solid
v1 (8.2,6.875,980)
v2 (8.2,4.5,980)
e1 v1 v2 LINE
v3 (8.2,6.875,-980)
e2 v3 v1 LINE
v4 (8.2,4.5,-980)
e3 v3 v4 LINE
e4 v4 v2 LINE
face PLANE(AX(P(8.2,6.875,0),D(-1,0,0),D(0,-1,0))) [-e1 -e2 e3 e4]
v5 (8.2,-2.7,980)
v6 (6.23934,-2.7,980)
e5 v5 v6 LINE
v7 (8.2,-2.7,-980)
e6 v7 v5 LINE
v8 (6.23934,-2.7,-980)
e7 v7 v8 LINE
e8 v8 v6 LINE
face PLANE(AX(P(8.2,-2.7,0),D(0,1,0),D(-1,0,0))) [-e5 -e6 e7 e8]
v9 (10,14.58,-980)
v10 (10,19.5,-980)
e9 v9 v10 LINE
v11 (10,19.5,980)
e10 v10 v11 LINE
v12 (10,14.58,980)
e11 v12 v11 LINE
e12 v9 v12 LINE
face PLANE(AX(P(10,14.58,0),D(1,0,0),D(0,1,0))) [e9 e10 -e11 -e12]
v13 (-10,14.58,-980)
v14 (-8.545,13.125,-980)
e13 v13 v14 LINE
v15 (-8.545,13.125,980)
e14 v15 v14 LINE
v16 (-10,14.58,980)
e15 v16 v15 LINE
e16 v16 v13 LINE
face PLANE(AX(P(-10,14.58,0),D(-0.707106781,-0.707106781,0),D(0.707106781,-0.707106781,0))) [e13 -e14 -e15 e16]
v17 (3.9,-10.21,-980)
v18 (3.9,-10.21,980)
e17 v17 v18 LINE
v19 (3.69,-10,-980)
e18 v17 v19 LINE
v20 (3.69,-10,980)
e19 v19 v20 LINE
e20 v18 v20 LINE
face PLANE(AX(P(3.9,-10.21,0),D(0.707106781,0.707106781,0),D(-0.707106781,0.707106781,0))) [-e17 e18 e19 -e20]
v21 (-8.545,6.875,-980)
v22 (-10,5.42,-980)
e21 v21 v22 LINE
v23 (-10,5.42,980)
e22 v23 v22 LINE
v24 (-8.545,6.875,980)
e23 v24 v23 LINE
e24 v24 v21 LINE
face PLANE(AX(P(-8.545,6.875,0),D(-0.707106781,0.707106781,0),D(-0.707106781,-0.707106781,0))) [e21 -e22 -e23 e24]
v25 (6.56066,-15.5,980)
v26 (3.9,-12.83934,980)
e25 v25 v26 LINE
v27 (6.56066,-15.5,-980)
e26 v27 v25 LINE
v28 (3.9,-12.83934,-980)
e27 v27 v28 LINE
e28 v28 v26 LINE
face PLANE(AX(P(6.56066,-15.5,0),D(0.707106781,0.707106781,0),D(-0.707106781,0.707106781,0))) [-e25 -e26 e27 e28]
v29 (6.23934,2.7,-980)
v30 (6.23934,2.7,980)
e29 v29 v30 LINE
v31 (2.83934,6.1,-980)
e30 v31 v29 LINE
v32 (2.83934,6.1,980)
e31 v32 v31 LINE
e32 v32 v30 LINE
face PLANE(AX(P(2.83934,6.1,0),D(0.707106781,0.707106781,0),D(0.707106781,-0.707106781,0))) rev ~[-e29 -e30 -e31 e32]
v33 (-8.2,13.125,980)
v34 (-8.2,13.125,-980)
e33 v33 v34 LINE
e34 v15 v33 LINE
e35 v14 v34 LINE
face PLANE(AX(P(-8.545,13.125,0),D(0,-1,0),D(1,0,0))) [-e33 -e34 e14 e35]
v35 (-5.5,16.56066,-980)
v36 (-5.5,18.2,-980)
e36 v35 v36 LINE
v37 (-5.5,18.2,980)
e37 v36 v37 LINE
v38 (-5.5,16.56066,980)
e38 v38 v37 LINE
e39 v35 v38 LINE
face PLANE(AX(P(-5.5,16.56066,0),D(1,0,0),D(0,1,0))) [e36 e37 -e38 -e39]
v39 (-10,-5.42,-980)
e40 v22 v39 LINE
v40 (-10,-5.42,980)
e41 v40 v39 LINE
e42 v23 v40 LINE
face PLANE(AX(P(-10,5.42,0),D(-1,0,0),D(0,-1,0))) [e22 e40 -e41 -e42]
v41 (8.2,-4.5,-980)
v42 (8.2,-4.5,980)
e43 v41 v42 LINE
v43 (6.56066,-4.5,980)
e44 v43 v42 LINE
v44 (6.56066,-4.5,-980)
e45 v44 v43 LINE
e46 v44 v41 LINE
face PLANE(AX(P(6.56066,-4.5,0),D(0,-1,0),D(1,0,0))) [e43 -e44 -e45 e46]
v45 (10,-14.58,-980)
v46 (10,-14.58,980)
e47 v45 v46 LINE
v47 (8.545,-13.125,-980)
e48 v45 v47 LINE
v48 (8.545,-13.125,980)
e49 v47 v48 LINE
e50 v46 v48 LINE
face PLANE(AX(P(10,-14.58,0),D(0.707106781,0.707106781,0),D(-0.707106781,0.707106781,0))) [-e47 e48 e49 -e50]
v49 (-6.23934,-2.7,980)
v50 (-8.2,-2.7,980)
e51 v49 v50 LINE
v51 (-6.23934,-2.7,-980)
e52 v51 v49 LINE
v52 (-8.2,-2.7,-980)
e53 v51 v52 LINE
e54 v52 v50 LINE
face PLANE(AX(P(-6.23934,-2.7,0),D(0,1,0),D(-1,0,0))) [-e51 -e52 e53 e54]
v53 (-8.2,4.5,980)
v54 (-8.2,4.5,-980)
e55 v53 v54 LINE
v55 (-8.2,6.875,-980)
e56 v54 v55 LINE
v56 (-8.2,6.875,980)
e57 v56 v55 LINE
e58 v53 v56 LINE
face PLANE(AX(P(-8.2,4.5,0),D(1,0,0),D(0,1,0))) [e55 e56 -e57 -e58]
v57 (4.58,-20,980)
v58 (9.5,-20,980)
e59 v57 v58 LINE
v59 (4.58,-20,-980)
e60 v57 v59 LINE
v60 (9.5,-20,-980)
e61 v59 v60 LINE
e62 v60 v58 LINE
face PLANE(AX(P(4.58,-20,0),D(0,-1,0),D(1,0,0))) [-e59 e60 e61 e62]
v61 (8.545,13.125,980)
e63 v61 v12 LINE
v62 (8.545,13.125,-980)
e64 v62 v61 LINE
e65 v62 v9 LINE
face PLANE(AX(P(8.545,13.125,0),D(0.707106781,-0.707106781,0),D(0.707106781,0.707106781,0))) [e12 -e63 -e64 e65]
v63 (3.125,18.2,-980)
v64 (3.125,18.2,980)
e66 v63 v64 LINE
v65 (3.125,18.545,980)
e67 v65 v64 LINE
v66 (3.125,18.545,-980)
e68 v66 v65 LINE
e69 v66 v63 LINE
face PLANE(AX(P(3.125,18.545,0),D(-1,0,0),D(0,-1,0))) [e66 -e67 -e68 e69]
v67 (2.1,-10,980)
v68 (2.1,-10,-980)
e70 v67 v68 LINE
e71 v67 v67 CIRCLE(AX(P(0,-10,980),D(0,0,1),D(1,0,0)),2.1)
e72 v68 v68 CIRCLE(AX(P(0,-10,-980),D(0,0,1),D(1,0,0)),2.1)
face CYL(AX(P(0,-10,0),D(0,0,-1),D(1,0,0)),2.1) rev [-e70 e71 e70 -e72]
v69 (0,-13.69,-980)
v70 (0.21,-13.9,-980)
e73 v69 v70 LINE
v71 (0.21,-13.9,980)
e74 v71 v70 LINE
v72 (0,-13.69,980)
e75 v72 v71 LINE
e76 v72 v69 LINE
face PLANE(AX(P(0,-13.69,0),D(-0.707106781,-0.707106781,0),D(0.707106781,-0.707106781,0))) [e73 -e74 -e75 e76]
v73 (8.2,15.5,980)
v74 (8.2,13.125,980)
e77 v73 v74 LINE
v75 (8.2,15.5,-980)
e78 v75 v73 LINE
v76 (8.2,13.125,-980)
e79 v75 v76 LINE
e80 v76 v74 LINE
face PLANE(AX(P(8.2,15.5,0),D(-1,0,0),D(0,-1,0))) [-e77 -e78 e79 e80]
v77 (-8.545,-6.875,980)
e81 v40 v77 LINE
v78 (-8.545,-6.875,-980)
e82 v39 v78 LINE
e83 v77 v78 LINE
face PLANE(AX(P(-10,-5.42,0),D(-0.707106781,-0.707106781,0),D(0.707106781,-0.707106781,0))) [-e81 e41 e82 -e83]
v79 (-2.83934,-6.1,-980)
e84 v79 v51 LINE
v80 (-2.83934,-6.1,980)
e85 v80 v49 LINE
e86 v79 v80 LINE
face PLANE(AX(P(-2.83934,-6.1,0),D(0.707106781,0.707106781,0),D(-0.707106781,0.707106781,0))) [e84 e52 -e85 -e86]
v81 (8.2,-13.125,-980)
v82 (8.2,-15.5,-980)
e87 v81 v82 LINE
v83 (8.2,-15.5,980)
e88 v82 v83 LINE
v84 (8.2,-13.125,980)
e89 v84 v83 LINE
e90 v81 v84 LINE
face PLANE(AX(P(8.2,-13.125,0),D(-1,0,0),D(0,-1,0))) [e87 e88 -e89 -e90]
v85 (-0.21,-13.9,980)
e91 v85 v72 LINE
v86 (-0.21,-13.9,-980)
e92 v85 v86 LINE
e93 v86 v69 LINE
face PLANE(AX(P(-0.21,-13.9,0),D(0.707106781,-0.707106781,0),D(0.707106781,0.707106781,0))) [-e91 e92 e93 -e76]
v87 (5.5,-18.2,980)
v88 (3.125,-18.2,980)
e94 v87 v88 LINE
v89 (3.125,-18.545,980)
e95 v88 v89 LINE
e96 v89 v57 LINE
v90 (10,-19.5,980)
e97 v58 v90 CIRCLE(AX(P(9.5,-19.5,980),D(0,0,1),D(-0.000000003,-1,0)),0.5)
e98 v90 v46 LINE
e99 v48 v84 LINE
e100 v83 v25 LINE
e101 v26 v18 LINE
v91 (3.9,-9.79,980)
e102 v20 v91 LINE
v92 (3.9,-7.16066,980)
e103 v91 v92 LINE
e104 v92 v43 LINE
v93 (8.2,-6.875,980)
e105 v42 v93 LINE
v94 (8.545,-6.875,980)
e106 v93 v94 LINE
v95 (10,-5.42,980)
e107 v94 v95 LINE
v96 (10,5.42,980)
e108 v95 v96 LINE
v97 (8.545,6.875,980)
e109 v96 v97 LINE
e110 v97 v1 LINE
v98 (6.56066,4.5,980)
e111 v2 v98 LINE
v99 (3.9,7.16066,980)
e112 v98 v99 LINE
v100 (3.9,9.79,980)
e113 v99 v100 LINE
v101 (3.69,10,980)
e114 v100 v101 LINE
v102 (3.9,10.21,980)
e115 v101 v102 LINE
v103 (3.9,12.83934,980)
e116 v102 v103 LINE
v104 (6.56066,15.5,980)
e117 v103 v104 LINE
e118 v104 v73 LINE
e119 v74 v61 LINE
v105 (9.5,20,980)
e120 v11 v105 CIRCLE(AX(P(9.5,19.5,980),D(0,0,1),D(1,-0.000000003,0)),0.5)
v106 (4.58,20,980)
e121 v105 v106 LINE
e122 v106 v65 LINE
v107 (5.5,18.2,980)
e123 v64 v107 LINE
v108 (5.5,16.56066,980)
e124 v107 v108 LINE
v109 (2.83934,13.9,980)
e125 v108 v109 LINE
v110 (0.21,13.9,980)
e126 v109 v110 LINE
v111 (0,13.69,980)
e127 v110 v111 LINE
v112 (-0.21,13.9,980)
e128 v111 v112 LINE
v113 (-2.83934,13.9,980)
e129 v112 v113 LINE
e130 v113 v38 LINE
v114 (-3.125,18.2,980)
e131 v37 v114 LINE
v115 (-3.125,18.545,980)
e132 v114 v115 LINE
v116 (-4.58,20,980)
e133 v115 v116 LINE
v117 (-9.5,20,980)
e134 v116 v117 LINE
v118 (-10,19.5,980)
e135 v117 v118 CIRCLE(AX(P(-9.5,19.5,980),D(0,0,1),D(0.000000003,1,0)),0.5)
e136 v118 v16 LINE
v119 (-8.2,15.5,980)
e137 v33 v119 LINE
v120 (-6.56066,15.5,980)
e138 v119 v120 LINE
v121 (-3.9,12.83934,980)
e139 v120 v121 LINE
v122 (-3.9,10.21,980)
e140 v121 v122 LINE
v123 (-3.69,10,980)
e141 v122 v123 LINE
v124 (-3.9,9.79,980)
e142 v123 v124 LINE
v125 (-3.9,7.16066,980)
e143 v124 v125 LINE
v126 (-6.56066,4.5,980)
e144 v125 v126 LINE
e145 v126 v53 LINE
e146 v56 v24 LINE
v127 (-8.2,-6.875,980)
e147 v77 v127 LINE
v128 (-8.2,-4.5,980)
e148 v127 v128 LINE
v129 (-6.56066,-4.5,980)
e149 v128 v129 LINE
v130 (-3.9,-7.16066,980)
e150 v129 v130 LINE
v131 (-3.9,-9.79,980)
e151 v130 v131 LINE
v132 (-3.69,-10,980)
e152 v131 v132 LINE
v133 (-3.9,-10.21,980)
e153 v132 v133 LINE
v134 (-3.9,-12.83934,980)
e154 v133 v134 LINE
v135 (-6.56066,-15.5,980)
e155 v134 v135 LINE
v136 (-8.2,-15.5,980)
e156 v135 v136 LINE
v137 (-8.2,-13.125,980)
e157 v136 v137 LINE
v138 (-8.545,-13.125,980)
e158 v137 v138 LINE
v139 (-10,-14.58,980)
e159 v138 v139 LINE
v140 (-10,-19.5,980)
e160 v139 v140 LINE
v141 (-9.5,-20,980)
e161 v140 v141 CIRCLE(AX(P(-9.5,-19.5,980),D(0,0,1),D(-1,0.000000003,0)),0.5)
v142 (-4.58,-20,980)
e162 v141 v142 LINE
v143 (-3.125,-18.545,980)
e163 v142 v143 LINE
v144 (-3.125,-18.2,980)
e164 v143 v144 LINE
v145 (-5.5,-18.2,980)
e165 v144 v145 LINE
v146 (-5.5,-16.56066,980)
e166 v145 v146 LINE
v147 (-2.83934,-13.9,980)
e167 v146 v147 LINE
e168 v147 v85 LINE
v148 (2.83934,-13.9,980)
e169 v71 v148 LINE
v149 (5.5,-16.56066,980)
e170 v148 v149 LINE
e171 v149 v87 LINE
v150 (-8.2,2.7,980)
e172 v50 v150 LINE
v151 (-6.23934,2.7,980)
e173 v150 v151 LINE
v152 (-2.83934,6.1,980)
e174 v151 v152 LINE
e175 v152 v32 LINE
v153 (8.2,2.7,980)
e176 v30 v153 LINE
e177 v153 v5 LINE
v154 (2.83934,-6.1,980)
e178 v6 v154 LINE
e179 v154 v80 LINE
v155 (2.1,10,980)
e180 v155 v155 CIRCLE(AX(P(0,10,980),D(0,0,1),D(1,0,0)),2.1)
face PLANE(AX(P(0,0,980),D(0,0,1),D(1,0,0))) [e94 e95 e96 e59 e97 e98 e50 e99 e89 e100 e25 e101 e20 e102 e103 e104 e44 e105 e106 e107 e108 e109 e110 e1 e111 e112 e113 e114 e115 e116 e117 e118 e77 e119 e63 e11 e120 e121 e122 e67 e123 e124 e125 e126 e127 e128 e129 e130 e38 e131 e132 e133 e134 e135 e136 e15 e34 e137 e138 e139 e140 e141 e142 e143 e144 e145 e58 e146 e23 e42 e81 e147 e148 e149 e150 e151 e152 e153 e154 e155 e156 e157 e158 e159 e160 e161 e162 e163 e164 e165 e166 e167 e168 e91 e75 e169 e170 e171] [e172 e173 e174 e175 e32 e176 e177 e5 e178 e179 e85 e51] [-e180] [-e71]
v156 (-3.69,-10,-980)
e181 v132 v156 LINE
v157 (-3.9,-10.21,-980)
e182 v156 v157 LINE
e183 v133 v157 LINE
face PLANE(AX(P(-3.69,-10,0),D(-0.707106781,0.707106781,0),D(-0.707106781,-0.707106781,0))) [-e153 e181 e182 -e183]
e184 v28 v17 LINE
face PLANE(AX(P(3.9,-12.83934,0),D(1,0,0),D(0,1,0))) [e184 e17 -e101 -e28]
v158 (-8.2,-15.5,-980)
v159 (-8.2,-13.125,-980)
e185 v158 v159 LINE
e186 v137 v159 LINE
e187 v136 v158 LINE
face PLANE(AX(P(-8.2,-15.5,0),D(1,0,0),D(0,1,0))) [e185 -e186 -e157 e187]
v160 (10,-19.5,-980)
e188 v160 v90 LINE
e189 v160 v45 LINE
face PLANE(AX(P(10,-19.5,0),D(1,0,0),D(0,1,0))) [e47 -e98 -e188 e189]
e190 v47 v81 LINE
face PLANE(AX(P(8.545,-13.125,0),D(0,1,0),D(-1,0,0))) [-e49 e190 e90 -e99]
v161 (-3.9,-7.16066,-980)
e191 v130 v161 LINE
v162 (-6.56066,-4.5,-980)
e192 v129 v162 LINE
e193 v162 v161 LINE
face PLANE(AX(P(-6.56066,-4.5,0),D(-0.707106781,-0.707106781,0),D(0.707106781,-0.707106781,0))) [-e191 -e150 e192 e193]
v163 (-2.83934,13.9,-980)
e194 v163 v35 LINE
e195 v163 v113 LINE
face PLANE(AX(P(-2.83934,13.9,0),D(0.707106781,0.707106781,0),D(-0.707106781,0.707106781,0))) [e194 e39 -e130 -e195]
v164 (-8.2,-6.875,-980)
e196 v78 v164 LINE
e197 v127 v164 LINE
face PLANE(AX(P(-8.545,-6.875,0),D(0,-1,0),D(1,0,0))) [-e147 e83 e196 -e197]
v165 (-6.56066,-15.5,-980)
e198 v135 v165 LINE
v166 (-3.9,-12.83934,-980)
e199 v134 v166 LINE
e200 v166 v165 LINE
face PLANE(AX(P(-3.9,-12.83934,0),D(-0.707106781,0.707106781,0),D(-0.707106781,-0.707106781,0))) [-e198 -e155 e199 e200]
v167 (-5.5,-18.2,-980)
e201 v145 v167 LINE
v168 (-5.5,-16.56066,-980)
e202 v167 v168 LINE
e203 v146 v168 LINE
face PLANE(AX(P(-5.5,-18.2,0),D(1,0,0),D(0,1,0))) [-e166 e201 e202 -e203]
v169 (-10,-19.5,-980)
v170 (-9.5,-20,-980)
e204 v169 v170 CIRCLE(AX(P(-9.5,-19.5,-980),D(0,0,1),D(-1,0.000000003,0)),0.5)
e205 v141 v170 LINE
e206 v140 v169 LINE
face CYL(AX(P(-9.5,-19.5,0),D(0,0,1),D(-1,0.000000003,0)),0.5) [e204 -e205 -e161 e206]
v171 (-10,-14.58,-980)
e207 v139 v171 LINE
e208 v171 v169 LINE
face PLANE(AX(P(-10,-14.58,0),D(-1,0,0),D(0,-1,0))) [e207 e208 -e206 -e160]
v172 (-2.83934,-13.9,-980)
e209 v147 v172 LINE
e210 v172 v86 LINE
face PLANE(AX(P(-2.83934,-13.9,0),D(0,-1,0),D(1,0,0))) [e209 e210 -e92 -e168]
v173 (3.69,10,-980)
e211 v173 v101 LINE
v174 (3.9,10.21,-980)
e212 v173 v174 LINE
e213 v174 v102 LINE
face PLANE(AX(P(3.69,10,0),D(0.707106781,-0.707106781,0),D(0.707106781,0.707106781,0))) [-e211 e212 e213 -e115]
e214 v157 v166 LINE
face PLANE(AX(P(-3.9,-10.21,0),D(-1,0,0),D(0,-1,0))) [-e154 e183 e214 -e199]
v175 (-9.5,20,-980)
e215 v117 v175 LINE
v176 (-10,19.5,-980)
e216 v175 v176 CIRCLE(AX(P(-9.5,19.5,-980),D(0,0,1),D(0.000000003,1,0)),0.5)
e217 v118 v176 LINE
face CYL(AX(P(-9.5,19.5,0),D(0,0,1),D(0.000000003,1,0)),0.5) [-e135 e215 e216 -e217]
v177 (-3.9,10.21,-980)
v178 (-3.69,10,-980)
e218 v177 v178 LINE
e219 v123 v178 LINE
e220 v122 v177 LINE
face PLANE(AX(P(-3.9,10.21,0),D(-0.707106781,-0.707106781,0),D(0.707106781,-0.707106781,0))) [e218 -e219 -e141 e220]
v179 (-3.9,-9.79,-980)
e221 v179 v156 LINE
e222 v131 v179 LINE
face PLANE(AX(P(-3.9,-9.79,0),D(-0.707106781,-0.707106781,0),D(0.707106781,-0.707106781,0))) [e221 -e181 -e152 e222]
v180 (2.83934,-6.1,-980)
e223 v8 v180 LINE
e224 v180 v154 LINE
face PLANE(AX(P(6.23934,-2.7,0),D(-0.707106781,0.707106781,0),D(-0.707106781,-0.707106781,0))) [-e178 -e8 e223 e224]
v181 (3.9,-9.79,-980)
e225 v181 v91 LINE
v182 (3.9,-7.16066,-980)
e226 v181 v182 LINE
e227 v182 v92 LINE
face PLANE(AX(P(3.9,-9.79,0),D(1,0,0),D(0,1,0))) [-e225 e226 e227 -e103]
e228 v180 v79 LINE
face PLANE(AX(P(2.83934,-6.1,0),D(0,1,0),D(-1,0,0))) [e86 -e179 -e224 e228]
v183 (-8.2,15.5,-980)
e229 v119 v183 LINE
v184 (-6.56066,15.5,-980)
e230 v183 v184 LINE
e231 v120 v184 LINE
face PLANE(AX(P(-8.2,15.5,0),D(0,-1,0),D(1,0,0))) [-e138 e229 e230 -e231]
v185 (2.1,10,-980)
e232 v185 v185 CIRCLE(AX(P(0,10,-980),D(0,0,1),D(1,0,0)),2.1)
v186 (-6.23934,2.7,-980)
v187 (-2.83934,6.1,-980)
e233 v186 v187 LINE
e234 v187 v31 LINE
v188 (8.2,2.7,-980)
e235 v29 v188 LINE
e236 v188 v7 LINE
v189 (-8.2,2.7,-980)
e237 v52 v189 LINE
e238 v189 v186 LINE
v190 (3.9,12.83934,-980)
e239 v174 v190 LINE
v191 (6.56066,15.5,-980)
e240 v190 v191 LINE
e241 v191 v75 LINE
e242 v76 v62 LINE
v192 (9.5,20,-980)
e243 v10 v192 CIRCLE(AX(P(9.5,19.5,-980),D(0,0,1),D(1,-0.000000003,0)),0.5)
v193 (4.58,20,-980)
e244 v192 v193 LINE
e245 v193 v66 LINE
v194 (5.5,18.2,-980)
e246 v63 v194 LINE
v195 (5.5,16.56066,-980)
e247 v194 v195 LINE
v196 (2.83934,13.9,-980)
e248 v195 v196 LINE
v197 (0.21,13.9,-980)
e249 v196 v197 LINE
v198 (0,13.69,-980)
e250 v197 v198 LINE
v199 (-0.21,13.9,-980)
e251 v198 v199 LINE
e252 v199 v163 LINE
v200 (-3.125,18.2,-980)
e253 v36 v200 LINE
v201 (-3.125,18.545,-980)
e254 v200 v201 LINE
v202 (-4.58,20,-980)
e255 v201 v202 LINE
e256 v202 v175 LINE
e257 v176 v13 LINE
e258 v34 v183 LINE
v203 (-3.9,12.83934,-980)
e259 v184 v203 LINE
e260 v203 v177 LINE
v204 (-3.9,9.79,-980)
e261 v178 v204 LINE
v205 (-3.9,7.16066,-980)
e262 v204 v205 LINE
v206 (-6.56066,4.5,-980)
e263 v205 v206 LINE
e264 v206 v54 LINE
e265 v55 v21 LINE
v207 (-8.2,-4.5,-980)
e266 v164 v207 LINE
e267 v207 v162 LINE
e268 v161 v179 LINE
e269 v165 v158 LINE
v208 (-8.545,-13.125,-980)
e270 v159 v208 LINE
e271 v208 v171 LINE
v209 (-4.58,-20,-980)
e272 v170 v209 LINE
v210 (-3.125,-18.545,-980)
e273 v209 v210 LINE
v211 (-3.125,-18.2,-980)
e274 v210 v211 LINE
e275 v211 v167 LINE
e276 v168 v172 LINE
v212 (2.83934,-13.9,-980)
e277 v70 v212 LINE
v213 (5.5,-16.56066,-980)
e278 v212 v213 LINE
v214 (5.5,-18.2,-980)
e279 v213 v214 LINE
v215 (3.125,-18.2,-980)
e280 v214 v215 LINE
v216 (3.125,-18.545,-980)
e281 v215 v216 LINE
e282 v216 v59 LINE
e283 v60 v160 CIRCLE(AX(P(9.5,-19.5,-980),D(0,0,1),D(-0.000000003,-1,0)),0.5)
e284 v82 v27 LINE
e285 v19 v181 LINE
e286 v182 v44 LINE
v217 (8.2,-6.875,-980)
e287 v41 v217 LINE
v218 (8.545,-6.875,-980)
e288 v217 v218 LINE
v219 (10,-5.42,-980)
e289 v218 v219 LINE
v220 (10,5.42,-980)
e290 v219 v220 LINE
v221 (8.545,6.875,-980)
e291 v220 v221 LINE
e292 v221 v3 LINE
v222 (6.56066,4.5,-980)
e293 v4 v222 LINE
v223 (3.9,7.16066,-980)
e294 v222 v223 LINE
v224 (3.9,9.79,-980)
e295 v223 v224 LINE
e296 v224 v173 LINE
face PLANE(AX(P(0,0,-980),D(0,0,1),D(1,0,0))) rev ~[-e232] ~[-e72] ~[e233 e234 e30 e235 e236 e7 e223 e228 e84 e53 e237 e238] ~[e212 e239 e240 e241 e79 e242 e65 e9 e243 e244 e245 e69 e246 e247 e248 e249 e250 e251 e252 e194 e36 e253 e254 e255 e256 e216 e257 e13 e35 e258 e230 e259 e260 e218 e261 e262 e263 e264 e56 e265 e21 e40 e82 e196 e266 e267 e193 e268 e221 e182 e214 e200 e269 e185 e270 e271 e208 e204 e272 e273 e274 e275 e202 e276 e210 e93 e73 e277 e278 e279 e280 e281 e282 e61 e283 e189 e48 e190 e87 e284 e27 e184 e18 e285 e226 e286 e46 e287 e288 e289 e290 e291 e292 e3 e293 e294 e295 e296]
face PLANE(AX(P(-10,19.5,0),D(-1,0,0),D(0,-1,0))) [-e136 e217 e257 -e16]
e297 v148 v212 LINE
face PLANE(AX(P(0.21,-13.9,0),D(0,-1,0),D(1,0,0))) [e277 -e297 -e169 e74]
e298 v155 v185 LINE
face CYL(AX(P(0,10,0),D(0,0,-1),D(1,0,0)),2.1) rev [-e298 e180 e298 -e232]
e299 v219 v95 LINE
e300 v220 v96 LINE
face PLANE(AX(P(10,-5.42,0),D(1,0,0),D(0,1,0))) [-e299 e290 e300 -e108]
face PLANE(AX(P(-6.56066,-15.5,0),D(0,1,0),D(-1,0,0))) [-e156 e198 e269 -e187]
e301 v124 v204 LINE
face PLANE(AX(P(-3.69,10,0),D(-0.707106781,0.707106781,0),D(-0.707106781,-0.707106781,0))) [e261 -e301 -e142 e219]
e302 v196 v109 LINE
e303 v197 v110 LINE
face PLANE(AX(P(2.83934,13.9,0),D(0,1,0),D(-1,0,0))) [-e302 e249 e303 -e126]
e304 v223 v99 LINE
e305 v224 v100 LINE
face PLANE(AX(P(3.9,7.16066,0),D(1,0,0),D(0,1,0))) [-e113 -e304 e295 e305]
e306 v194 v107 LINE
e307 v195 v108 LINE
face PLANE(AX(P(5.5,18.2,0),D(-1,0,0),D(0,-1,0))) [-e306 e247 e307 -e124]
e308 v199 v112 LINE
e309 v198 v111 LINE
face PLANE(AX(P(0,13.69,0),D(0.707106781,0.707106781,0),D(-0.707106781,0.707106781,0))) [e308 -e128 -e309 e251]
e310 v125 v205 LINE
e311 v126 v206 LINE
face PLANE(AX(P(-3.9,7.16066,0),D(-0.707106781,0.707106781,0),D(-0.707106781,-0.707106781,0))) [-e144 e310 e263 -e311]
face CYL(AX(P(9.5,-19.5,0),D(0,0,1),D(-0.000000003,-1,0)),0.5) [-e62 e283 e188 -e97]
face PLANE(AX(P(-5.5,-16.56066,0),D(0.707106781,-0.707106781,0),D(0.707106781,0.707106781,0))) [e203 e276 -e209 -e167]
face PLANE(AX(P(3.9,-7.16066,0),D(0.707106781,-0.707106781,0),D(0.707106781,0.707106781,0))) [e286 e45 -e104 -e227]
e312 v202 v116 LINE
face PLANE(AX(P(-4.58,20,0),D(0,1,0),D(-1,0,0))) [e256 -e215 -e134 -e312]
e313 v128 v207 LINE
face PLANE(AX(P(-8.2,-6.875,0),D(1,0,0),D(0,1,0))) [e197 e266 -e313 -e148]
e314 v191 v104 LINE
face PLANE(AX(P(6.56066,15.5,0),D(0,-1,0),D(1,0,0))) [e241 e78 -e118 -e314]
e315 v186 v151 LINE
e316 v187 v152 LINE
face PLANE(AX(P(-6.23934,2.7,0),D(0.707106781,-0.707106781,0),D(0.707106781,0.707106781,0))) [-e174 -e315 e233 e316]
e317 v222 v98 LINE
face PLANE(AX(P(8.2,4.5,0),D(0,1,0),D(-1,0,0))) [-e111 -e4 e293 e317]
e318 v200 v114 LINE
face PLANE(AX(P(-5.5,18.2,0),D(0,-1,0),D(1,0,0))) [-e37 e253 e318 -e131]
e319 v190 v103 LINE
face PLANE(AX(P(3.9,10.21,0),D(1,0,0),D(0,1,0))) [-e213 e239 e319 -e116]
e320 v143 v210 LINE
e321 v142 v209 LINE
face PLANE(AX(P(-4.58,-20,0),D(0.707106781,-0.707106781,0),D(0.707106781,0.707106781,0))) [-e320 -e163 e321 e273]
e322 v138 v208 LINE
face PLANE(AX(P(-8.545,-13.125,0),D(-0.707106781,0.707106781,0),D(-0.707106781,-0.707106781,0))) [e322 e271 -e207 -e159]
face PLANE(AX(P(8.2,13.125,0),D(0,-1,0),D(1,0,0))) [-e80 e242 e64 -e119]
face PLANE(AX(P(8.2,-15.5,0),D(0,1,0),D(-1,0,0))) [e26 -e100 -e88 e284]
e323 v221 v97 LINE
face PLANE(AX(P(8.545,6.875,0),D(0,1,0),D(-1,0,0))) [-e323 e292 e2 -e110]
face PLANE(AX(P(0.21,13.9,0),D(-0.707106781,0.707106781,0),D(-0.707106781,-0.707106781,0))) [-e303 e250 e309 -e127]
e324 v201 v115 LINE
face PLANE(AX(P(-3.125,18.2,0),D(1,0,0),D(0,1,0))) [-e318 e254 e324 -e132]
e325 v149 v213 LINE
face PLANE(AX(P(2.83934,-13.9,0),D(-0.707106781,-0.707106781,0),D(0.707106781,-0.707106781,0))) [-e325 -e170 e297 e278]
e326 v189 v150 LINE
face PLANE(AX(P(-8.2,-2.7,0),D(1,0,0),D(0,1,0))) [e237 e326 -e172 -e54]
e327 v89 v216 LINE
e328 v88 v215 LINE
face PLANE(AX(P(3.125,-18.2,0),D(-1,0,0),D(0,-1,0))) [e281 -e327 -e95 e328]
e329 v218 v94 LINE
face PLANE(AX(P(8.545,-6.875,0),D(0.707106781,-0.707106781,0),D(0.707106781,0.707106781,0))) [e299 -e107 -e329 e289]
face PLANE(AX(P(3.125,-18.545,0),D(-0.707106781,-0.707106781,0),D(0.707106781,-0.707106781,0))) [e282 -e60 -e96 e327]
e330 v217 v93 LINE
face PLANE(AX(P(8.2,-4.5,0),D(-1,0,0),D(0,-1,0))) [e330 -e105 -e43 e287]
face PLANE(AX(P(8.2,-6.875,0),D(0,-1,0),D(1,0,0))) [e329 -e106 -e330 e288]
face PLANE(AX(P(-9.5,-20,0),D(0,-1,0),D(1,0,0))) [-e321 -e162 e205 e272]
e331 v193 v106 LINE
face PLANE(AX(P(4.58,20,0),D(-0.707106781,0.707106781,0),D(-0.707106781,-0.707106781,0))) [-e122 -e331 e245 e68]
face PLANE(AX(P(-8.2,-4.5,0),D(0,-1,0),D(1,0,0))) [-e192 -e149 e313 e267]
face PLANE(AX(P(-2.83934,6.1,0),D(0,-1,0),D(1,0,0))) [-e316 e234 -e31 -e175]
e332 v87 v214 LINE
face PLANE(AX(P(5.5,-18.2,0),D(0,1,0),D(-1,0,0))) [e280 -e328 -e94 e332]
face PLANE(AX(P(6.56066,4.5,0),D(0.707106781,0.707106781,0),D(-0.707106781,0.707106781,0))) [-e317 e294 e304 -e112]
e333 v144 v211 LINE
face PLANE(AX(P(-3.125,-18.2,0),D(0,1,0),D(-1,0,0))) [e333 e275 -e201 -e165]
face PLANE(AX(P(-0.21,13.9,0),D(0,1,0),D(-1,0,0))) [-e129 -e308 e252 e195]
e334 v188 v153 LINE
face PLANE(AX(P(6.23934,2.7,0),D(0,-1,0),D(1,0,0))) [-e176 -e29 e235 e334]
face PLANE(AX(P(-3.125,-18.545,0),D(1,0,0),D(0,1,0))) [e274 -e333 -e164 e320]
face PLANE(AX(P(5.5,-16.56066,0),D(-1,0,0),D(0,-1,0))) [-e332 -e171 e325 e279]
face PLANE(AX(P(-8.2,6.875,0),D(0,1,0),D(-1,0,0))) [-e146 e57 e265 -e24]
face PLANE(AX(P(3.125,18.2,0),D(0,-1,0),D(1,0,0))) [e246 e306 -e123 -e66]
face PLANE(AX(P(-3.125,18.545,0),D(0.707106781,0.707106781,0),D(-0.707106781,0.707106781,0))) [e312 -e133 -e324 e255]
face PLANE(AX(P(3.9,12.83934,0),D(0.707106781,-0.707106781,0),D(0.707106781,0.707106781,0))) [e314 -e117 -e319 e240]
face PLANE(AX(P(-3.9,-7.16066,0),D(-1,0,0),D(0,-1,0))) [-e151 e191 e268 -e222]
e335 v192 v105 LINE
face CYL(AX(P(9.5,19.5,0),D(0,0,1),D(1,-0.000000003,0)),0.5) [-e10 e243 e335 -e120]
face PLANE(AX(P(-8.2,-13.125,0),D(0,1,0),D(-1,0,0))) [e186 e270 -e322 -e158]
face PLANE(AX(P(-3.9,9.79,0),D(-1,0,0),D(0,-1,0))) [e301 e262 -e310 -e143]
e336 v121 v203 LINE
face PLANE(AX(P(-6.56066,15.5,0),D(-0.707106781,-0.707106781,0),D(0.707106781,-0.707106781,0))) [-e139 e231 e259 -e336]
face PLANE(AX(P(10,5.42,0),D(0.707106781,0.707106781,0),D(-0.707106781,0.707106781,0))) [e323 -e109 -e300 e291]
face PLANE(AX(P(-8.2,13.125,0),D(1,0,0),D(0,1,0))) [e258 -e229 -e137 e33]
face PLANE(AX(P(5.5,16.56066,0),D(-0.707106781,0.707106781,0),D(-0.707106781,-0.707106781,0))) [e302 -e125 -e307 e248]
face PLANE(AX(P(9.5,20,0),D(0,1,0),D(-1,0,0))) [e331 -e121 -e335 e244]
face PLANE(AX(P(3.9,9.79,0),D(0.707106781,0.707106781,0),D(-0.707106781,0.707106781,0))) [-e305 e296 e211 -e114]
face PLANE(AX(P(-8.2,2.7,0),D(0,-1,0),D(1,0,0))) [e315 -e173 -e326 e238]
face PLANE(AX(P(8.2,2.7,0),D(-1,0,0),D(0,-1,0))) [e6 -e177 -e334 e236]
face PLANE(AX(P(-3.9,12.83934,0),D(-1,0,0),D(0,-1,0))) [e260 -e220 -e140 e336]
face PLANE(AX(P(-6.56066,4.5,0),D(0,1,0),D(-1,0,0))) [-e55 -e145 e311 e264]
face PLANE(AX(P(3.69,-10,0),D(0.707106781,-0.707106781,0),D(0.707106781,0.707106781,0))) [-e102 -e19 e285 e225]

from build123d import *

# Parameters (mm, degrees)
SKETCH1_R           = 2.1
BOSS_EXTRUDE1_DEPTH = 980


with BuildPart() as part:
    # Sketch1 → Boss-Extrude1 (new, symmetric)
    with BuildSketch(Plane.XY):
        with BuildLine():
            Line((4.58, -20), (9.5, -20))
            ThreePointArc((9.5, -20), (9.853553391, -19.853553391), (10, -19.5))
            Line((10, -19.5), (10, -14.58))
            Line((10, -14.58), (8.545, -13.125))
            Line((8.545, -13.125), (8.2, -13.125))
            Line((8.2, -13.125), (8.2, -15.5))
            Line((8.2, -15.5), (6.560660172, -15.5))
            Line((6.560660172, -15.5), (3.9, -12.839339828))
            Line((3.9, -12.839339828), (3.9, -10.21))
            Line((3.9, -10.21), (3.69, -10))
            Line((3.69, -10), (3.9, -9.79))
            Line((3.9, -9.79), (3.9, -7.160660172))
            Line((3.9, -7.160660172), (6.560660172, -4.5))
            Line((6.560660172, -4.5), (8.2, -4.5))
            Line((8.2, -4.5), (8.2, -6.875))
            Line((8.2, -6.875), (8.545, -6.875))
            Line((8.545, -6.875), (10, -5.42))
            Line((10, -5.42), (10, 5.42))
            Line((10, 5.42), (8.545, 6.875))
            Line((8.545, 6.875), (8.2, 6.875))
            Line((8.2, 6.875), (8.2, 4.5))
            Line((8.2, 4.5), (6.560660172, 4.5))
            Line((6.560660172, 4.5), (3.9, 7.160660172))
            Line((3.9, 7.160660172), (3.9, 9.79))
            Line((3.9, 9.79), (3.69, 10))
            Line((3.69, 10), (3.9, 10.21))
            Line((3.9, 10.21), (3.9, 12.839339828))
            Line((3.9, 12.839339828), (6.560660172, 15.5))
            Line((6.560660172, 15.5), (8.2, 15.5))
            Line((8.2, 15.5), (8.2, 13.125))
            Line((8.2, 13.125), (8.545, 13.125))
            Line((8.545, 13.125), (10, 14.58))
            Line((10, 14.58), (10, 19.5))
            ThreePointArc((10, 19.5), (9.853553391, 19.853553391), (9.5, 20))
            Line((9.5, 20), (4.58, 20))
            Line((4.58, 20), (3.125, 18.545))
            Line((3.125, 18.545), (3.125, 18.2))
            Line((3.125, 18.2), (5.5, 18.2))
            Line((5.5, 18.2), (5.5, 16.560660172))
            Line((5.5, 16.560660172), (2.839339828, 13.9))
            Line((2.839339828, 13.9), (0.21, 13.9))
            Line((0.21, 13.9), (0, 13.69))
            Line((0, 13.69), (-0.21, 13.9))
            Line((-0.21, 13.9), (-2.839339828, 13.9))
            Line((-2.839339828, 13.9), (-5.5, 16.560660172))
            Line((-5.5, 16.560660172), (-5.5, 18.2))
            Line((-5.5, 18.2), (-3.125, 18.2))
            Line((-3.125, 18.2), (-3.125, 18.545))
            Line((-3.125, 18.545), (-4.58, 20))
            Line((-4.58, 20), (-9.5, 20))
            ThreePointArc((-9.5, 20), (-9.853553391, 19.853553391), (-10, 19.5))
            Line((-10, 19.5), (-10, 14.58))
            Line((-10, 14.58), (-8.545, 13.125))
            Line((-8.545, 13.125), (-8.2, 13.125))
            Line((-8.2, 13.125), (-8.2, 15.5))
            Line((-8.2, 15.5), (-6.560660172, 15.5))
            Line((-6.560660172, 15.5), (-3.9, 12.839339828))
            Line((-3.9, 12.839339828), (-3.9, 10.21))
            Line((-3.9, 10.21), (-3.69, 10))
            Line((-3.69, 10), (-3.9, 9.79))
            Line((-3.9, 9.79), (-3.9, 7.160660172))
            Line((-3.9, 7.160660172), (-6.560660172, 4.5))
            Line((-6.560660172, 4.5), (-8.2, 4.5))
            Line((-8.2, 4.5), (-8.2, 6.875))
            Line((-8.2, 6.875), (-8.545, 6.875))
            Line((-8.545, 6.875), (-10, 5.42))
            Line((-10, 5.42), (-10, -5.42))
            Line((-10, -5.42), (-8.545, -6.875))
            Line((-8.545, -6.875), (-8.2, -6.875))
            Line((-8.2, -6.875), (-8.2, -4.5))
            Line((-8.2, -4.5), (-6.560660172, -4.5))
            Line((-6.560660172, -4.5), (-3.9, -7.160660172))
            Line((-3.9, -7.160660172), (-3.9, -9.79))
            Line((-3.9, -9.79), (-3.69, -10))
            Line((-3.69, -10), (-3.9, -10.21))
            Line((-3.9, -10.21), (-3.9, -12.839339828))
            Line((-3.9, -12.839339828), (-6.560660172, -15.5))
            Line((-6.560660172, -15.5), (-8.2, -15.5))
            Line((-8.2, -15.5), (-8.2, -13.125))
            Line((-8.2, -13.125), (-8.545, -13.125))
            Line((-8.545, -13.125), (-10, -14.58))
            Line((-10, -14.58), (-10, -19.5))
            ThreePointArc((-10, -19.5), (-9.853553391, -19.853553391), (-9.5, -20))
            Line((-9.5, -20), (-4.58, -20))
            Line((-4.58, -20), (-3.125, -18.545))
            Line((-3.125, -18.545), (-3.125, -18.2))
            Line((-3.125, -18.2), (-5.5, -18.2))
            Line((-5.5, -18.2), (-5.5, -16.560660172))
            Line((-5.5, -16.560660172), (-2.839339828, -13.9))
            Line((-2.839339828, -13.9), (-0.21, -13.9))
            Line((-0.21, -13.9), (0, -13.69))
            Line((0, -13.69), (0.21, -13.9))
            Line((0.21, -13.9), (2.839339828, -13.9))
            Line((2.839339828, -13.9), (5.5, -16.560660172))
            Line((5.5, -16.560660172), (5.5, -18.2))
            Line((5.5, -18.2), (3.125, -18.2))
            Line((3.125, -18.2), (3.125, -18.545))
            Line((3.125, -18.545), (4.58, -20))
        make_face()
        with Locations((0, -10)):
            Circle(SKETCH1_R, mode=Mode.SUBTRACT)
        Polygon((-6.239339828, -2.7), (-8.2, -2.7), (-8.2, 2.7), (-6.239339828, 2.7), (-2.839339828, 6.1), (2.839339828, 6.1), (6.239339828, 2.7), (8.2, 2.7), (8.2, -2.7), (6.239339828, -2.7), (2.839339828, -6.1), (-2.839339828, -6.1), align=None, mode=Mode.SUBTRACT)
        with Locations((0, 10)):
            Circle(SKETCH1_R, mode=Mode.SUBTRACT)
    extrude(amount=BOSS_EXTRUDE1_DEPTH, both=True)


solid = part.part
